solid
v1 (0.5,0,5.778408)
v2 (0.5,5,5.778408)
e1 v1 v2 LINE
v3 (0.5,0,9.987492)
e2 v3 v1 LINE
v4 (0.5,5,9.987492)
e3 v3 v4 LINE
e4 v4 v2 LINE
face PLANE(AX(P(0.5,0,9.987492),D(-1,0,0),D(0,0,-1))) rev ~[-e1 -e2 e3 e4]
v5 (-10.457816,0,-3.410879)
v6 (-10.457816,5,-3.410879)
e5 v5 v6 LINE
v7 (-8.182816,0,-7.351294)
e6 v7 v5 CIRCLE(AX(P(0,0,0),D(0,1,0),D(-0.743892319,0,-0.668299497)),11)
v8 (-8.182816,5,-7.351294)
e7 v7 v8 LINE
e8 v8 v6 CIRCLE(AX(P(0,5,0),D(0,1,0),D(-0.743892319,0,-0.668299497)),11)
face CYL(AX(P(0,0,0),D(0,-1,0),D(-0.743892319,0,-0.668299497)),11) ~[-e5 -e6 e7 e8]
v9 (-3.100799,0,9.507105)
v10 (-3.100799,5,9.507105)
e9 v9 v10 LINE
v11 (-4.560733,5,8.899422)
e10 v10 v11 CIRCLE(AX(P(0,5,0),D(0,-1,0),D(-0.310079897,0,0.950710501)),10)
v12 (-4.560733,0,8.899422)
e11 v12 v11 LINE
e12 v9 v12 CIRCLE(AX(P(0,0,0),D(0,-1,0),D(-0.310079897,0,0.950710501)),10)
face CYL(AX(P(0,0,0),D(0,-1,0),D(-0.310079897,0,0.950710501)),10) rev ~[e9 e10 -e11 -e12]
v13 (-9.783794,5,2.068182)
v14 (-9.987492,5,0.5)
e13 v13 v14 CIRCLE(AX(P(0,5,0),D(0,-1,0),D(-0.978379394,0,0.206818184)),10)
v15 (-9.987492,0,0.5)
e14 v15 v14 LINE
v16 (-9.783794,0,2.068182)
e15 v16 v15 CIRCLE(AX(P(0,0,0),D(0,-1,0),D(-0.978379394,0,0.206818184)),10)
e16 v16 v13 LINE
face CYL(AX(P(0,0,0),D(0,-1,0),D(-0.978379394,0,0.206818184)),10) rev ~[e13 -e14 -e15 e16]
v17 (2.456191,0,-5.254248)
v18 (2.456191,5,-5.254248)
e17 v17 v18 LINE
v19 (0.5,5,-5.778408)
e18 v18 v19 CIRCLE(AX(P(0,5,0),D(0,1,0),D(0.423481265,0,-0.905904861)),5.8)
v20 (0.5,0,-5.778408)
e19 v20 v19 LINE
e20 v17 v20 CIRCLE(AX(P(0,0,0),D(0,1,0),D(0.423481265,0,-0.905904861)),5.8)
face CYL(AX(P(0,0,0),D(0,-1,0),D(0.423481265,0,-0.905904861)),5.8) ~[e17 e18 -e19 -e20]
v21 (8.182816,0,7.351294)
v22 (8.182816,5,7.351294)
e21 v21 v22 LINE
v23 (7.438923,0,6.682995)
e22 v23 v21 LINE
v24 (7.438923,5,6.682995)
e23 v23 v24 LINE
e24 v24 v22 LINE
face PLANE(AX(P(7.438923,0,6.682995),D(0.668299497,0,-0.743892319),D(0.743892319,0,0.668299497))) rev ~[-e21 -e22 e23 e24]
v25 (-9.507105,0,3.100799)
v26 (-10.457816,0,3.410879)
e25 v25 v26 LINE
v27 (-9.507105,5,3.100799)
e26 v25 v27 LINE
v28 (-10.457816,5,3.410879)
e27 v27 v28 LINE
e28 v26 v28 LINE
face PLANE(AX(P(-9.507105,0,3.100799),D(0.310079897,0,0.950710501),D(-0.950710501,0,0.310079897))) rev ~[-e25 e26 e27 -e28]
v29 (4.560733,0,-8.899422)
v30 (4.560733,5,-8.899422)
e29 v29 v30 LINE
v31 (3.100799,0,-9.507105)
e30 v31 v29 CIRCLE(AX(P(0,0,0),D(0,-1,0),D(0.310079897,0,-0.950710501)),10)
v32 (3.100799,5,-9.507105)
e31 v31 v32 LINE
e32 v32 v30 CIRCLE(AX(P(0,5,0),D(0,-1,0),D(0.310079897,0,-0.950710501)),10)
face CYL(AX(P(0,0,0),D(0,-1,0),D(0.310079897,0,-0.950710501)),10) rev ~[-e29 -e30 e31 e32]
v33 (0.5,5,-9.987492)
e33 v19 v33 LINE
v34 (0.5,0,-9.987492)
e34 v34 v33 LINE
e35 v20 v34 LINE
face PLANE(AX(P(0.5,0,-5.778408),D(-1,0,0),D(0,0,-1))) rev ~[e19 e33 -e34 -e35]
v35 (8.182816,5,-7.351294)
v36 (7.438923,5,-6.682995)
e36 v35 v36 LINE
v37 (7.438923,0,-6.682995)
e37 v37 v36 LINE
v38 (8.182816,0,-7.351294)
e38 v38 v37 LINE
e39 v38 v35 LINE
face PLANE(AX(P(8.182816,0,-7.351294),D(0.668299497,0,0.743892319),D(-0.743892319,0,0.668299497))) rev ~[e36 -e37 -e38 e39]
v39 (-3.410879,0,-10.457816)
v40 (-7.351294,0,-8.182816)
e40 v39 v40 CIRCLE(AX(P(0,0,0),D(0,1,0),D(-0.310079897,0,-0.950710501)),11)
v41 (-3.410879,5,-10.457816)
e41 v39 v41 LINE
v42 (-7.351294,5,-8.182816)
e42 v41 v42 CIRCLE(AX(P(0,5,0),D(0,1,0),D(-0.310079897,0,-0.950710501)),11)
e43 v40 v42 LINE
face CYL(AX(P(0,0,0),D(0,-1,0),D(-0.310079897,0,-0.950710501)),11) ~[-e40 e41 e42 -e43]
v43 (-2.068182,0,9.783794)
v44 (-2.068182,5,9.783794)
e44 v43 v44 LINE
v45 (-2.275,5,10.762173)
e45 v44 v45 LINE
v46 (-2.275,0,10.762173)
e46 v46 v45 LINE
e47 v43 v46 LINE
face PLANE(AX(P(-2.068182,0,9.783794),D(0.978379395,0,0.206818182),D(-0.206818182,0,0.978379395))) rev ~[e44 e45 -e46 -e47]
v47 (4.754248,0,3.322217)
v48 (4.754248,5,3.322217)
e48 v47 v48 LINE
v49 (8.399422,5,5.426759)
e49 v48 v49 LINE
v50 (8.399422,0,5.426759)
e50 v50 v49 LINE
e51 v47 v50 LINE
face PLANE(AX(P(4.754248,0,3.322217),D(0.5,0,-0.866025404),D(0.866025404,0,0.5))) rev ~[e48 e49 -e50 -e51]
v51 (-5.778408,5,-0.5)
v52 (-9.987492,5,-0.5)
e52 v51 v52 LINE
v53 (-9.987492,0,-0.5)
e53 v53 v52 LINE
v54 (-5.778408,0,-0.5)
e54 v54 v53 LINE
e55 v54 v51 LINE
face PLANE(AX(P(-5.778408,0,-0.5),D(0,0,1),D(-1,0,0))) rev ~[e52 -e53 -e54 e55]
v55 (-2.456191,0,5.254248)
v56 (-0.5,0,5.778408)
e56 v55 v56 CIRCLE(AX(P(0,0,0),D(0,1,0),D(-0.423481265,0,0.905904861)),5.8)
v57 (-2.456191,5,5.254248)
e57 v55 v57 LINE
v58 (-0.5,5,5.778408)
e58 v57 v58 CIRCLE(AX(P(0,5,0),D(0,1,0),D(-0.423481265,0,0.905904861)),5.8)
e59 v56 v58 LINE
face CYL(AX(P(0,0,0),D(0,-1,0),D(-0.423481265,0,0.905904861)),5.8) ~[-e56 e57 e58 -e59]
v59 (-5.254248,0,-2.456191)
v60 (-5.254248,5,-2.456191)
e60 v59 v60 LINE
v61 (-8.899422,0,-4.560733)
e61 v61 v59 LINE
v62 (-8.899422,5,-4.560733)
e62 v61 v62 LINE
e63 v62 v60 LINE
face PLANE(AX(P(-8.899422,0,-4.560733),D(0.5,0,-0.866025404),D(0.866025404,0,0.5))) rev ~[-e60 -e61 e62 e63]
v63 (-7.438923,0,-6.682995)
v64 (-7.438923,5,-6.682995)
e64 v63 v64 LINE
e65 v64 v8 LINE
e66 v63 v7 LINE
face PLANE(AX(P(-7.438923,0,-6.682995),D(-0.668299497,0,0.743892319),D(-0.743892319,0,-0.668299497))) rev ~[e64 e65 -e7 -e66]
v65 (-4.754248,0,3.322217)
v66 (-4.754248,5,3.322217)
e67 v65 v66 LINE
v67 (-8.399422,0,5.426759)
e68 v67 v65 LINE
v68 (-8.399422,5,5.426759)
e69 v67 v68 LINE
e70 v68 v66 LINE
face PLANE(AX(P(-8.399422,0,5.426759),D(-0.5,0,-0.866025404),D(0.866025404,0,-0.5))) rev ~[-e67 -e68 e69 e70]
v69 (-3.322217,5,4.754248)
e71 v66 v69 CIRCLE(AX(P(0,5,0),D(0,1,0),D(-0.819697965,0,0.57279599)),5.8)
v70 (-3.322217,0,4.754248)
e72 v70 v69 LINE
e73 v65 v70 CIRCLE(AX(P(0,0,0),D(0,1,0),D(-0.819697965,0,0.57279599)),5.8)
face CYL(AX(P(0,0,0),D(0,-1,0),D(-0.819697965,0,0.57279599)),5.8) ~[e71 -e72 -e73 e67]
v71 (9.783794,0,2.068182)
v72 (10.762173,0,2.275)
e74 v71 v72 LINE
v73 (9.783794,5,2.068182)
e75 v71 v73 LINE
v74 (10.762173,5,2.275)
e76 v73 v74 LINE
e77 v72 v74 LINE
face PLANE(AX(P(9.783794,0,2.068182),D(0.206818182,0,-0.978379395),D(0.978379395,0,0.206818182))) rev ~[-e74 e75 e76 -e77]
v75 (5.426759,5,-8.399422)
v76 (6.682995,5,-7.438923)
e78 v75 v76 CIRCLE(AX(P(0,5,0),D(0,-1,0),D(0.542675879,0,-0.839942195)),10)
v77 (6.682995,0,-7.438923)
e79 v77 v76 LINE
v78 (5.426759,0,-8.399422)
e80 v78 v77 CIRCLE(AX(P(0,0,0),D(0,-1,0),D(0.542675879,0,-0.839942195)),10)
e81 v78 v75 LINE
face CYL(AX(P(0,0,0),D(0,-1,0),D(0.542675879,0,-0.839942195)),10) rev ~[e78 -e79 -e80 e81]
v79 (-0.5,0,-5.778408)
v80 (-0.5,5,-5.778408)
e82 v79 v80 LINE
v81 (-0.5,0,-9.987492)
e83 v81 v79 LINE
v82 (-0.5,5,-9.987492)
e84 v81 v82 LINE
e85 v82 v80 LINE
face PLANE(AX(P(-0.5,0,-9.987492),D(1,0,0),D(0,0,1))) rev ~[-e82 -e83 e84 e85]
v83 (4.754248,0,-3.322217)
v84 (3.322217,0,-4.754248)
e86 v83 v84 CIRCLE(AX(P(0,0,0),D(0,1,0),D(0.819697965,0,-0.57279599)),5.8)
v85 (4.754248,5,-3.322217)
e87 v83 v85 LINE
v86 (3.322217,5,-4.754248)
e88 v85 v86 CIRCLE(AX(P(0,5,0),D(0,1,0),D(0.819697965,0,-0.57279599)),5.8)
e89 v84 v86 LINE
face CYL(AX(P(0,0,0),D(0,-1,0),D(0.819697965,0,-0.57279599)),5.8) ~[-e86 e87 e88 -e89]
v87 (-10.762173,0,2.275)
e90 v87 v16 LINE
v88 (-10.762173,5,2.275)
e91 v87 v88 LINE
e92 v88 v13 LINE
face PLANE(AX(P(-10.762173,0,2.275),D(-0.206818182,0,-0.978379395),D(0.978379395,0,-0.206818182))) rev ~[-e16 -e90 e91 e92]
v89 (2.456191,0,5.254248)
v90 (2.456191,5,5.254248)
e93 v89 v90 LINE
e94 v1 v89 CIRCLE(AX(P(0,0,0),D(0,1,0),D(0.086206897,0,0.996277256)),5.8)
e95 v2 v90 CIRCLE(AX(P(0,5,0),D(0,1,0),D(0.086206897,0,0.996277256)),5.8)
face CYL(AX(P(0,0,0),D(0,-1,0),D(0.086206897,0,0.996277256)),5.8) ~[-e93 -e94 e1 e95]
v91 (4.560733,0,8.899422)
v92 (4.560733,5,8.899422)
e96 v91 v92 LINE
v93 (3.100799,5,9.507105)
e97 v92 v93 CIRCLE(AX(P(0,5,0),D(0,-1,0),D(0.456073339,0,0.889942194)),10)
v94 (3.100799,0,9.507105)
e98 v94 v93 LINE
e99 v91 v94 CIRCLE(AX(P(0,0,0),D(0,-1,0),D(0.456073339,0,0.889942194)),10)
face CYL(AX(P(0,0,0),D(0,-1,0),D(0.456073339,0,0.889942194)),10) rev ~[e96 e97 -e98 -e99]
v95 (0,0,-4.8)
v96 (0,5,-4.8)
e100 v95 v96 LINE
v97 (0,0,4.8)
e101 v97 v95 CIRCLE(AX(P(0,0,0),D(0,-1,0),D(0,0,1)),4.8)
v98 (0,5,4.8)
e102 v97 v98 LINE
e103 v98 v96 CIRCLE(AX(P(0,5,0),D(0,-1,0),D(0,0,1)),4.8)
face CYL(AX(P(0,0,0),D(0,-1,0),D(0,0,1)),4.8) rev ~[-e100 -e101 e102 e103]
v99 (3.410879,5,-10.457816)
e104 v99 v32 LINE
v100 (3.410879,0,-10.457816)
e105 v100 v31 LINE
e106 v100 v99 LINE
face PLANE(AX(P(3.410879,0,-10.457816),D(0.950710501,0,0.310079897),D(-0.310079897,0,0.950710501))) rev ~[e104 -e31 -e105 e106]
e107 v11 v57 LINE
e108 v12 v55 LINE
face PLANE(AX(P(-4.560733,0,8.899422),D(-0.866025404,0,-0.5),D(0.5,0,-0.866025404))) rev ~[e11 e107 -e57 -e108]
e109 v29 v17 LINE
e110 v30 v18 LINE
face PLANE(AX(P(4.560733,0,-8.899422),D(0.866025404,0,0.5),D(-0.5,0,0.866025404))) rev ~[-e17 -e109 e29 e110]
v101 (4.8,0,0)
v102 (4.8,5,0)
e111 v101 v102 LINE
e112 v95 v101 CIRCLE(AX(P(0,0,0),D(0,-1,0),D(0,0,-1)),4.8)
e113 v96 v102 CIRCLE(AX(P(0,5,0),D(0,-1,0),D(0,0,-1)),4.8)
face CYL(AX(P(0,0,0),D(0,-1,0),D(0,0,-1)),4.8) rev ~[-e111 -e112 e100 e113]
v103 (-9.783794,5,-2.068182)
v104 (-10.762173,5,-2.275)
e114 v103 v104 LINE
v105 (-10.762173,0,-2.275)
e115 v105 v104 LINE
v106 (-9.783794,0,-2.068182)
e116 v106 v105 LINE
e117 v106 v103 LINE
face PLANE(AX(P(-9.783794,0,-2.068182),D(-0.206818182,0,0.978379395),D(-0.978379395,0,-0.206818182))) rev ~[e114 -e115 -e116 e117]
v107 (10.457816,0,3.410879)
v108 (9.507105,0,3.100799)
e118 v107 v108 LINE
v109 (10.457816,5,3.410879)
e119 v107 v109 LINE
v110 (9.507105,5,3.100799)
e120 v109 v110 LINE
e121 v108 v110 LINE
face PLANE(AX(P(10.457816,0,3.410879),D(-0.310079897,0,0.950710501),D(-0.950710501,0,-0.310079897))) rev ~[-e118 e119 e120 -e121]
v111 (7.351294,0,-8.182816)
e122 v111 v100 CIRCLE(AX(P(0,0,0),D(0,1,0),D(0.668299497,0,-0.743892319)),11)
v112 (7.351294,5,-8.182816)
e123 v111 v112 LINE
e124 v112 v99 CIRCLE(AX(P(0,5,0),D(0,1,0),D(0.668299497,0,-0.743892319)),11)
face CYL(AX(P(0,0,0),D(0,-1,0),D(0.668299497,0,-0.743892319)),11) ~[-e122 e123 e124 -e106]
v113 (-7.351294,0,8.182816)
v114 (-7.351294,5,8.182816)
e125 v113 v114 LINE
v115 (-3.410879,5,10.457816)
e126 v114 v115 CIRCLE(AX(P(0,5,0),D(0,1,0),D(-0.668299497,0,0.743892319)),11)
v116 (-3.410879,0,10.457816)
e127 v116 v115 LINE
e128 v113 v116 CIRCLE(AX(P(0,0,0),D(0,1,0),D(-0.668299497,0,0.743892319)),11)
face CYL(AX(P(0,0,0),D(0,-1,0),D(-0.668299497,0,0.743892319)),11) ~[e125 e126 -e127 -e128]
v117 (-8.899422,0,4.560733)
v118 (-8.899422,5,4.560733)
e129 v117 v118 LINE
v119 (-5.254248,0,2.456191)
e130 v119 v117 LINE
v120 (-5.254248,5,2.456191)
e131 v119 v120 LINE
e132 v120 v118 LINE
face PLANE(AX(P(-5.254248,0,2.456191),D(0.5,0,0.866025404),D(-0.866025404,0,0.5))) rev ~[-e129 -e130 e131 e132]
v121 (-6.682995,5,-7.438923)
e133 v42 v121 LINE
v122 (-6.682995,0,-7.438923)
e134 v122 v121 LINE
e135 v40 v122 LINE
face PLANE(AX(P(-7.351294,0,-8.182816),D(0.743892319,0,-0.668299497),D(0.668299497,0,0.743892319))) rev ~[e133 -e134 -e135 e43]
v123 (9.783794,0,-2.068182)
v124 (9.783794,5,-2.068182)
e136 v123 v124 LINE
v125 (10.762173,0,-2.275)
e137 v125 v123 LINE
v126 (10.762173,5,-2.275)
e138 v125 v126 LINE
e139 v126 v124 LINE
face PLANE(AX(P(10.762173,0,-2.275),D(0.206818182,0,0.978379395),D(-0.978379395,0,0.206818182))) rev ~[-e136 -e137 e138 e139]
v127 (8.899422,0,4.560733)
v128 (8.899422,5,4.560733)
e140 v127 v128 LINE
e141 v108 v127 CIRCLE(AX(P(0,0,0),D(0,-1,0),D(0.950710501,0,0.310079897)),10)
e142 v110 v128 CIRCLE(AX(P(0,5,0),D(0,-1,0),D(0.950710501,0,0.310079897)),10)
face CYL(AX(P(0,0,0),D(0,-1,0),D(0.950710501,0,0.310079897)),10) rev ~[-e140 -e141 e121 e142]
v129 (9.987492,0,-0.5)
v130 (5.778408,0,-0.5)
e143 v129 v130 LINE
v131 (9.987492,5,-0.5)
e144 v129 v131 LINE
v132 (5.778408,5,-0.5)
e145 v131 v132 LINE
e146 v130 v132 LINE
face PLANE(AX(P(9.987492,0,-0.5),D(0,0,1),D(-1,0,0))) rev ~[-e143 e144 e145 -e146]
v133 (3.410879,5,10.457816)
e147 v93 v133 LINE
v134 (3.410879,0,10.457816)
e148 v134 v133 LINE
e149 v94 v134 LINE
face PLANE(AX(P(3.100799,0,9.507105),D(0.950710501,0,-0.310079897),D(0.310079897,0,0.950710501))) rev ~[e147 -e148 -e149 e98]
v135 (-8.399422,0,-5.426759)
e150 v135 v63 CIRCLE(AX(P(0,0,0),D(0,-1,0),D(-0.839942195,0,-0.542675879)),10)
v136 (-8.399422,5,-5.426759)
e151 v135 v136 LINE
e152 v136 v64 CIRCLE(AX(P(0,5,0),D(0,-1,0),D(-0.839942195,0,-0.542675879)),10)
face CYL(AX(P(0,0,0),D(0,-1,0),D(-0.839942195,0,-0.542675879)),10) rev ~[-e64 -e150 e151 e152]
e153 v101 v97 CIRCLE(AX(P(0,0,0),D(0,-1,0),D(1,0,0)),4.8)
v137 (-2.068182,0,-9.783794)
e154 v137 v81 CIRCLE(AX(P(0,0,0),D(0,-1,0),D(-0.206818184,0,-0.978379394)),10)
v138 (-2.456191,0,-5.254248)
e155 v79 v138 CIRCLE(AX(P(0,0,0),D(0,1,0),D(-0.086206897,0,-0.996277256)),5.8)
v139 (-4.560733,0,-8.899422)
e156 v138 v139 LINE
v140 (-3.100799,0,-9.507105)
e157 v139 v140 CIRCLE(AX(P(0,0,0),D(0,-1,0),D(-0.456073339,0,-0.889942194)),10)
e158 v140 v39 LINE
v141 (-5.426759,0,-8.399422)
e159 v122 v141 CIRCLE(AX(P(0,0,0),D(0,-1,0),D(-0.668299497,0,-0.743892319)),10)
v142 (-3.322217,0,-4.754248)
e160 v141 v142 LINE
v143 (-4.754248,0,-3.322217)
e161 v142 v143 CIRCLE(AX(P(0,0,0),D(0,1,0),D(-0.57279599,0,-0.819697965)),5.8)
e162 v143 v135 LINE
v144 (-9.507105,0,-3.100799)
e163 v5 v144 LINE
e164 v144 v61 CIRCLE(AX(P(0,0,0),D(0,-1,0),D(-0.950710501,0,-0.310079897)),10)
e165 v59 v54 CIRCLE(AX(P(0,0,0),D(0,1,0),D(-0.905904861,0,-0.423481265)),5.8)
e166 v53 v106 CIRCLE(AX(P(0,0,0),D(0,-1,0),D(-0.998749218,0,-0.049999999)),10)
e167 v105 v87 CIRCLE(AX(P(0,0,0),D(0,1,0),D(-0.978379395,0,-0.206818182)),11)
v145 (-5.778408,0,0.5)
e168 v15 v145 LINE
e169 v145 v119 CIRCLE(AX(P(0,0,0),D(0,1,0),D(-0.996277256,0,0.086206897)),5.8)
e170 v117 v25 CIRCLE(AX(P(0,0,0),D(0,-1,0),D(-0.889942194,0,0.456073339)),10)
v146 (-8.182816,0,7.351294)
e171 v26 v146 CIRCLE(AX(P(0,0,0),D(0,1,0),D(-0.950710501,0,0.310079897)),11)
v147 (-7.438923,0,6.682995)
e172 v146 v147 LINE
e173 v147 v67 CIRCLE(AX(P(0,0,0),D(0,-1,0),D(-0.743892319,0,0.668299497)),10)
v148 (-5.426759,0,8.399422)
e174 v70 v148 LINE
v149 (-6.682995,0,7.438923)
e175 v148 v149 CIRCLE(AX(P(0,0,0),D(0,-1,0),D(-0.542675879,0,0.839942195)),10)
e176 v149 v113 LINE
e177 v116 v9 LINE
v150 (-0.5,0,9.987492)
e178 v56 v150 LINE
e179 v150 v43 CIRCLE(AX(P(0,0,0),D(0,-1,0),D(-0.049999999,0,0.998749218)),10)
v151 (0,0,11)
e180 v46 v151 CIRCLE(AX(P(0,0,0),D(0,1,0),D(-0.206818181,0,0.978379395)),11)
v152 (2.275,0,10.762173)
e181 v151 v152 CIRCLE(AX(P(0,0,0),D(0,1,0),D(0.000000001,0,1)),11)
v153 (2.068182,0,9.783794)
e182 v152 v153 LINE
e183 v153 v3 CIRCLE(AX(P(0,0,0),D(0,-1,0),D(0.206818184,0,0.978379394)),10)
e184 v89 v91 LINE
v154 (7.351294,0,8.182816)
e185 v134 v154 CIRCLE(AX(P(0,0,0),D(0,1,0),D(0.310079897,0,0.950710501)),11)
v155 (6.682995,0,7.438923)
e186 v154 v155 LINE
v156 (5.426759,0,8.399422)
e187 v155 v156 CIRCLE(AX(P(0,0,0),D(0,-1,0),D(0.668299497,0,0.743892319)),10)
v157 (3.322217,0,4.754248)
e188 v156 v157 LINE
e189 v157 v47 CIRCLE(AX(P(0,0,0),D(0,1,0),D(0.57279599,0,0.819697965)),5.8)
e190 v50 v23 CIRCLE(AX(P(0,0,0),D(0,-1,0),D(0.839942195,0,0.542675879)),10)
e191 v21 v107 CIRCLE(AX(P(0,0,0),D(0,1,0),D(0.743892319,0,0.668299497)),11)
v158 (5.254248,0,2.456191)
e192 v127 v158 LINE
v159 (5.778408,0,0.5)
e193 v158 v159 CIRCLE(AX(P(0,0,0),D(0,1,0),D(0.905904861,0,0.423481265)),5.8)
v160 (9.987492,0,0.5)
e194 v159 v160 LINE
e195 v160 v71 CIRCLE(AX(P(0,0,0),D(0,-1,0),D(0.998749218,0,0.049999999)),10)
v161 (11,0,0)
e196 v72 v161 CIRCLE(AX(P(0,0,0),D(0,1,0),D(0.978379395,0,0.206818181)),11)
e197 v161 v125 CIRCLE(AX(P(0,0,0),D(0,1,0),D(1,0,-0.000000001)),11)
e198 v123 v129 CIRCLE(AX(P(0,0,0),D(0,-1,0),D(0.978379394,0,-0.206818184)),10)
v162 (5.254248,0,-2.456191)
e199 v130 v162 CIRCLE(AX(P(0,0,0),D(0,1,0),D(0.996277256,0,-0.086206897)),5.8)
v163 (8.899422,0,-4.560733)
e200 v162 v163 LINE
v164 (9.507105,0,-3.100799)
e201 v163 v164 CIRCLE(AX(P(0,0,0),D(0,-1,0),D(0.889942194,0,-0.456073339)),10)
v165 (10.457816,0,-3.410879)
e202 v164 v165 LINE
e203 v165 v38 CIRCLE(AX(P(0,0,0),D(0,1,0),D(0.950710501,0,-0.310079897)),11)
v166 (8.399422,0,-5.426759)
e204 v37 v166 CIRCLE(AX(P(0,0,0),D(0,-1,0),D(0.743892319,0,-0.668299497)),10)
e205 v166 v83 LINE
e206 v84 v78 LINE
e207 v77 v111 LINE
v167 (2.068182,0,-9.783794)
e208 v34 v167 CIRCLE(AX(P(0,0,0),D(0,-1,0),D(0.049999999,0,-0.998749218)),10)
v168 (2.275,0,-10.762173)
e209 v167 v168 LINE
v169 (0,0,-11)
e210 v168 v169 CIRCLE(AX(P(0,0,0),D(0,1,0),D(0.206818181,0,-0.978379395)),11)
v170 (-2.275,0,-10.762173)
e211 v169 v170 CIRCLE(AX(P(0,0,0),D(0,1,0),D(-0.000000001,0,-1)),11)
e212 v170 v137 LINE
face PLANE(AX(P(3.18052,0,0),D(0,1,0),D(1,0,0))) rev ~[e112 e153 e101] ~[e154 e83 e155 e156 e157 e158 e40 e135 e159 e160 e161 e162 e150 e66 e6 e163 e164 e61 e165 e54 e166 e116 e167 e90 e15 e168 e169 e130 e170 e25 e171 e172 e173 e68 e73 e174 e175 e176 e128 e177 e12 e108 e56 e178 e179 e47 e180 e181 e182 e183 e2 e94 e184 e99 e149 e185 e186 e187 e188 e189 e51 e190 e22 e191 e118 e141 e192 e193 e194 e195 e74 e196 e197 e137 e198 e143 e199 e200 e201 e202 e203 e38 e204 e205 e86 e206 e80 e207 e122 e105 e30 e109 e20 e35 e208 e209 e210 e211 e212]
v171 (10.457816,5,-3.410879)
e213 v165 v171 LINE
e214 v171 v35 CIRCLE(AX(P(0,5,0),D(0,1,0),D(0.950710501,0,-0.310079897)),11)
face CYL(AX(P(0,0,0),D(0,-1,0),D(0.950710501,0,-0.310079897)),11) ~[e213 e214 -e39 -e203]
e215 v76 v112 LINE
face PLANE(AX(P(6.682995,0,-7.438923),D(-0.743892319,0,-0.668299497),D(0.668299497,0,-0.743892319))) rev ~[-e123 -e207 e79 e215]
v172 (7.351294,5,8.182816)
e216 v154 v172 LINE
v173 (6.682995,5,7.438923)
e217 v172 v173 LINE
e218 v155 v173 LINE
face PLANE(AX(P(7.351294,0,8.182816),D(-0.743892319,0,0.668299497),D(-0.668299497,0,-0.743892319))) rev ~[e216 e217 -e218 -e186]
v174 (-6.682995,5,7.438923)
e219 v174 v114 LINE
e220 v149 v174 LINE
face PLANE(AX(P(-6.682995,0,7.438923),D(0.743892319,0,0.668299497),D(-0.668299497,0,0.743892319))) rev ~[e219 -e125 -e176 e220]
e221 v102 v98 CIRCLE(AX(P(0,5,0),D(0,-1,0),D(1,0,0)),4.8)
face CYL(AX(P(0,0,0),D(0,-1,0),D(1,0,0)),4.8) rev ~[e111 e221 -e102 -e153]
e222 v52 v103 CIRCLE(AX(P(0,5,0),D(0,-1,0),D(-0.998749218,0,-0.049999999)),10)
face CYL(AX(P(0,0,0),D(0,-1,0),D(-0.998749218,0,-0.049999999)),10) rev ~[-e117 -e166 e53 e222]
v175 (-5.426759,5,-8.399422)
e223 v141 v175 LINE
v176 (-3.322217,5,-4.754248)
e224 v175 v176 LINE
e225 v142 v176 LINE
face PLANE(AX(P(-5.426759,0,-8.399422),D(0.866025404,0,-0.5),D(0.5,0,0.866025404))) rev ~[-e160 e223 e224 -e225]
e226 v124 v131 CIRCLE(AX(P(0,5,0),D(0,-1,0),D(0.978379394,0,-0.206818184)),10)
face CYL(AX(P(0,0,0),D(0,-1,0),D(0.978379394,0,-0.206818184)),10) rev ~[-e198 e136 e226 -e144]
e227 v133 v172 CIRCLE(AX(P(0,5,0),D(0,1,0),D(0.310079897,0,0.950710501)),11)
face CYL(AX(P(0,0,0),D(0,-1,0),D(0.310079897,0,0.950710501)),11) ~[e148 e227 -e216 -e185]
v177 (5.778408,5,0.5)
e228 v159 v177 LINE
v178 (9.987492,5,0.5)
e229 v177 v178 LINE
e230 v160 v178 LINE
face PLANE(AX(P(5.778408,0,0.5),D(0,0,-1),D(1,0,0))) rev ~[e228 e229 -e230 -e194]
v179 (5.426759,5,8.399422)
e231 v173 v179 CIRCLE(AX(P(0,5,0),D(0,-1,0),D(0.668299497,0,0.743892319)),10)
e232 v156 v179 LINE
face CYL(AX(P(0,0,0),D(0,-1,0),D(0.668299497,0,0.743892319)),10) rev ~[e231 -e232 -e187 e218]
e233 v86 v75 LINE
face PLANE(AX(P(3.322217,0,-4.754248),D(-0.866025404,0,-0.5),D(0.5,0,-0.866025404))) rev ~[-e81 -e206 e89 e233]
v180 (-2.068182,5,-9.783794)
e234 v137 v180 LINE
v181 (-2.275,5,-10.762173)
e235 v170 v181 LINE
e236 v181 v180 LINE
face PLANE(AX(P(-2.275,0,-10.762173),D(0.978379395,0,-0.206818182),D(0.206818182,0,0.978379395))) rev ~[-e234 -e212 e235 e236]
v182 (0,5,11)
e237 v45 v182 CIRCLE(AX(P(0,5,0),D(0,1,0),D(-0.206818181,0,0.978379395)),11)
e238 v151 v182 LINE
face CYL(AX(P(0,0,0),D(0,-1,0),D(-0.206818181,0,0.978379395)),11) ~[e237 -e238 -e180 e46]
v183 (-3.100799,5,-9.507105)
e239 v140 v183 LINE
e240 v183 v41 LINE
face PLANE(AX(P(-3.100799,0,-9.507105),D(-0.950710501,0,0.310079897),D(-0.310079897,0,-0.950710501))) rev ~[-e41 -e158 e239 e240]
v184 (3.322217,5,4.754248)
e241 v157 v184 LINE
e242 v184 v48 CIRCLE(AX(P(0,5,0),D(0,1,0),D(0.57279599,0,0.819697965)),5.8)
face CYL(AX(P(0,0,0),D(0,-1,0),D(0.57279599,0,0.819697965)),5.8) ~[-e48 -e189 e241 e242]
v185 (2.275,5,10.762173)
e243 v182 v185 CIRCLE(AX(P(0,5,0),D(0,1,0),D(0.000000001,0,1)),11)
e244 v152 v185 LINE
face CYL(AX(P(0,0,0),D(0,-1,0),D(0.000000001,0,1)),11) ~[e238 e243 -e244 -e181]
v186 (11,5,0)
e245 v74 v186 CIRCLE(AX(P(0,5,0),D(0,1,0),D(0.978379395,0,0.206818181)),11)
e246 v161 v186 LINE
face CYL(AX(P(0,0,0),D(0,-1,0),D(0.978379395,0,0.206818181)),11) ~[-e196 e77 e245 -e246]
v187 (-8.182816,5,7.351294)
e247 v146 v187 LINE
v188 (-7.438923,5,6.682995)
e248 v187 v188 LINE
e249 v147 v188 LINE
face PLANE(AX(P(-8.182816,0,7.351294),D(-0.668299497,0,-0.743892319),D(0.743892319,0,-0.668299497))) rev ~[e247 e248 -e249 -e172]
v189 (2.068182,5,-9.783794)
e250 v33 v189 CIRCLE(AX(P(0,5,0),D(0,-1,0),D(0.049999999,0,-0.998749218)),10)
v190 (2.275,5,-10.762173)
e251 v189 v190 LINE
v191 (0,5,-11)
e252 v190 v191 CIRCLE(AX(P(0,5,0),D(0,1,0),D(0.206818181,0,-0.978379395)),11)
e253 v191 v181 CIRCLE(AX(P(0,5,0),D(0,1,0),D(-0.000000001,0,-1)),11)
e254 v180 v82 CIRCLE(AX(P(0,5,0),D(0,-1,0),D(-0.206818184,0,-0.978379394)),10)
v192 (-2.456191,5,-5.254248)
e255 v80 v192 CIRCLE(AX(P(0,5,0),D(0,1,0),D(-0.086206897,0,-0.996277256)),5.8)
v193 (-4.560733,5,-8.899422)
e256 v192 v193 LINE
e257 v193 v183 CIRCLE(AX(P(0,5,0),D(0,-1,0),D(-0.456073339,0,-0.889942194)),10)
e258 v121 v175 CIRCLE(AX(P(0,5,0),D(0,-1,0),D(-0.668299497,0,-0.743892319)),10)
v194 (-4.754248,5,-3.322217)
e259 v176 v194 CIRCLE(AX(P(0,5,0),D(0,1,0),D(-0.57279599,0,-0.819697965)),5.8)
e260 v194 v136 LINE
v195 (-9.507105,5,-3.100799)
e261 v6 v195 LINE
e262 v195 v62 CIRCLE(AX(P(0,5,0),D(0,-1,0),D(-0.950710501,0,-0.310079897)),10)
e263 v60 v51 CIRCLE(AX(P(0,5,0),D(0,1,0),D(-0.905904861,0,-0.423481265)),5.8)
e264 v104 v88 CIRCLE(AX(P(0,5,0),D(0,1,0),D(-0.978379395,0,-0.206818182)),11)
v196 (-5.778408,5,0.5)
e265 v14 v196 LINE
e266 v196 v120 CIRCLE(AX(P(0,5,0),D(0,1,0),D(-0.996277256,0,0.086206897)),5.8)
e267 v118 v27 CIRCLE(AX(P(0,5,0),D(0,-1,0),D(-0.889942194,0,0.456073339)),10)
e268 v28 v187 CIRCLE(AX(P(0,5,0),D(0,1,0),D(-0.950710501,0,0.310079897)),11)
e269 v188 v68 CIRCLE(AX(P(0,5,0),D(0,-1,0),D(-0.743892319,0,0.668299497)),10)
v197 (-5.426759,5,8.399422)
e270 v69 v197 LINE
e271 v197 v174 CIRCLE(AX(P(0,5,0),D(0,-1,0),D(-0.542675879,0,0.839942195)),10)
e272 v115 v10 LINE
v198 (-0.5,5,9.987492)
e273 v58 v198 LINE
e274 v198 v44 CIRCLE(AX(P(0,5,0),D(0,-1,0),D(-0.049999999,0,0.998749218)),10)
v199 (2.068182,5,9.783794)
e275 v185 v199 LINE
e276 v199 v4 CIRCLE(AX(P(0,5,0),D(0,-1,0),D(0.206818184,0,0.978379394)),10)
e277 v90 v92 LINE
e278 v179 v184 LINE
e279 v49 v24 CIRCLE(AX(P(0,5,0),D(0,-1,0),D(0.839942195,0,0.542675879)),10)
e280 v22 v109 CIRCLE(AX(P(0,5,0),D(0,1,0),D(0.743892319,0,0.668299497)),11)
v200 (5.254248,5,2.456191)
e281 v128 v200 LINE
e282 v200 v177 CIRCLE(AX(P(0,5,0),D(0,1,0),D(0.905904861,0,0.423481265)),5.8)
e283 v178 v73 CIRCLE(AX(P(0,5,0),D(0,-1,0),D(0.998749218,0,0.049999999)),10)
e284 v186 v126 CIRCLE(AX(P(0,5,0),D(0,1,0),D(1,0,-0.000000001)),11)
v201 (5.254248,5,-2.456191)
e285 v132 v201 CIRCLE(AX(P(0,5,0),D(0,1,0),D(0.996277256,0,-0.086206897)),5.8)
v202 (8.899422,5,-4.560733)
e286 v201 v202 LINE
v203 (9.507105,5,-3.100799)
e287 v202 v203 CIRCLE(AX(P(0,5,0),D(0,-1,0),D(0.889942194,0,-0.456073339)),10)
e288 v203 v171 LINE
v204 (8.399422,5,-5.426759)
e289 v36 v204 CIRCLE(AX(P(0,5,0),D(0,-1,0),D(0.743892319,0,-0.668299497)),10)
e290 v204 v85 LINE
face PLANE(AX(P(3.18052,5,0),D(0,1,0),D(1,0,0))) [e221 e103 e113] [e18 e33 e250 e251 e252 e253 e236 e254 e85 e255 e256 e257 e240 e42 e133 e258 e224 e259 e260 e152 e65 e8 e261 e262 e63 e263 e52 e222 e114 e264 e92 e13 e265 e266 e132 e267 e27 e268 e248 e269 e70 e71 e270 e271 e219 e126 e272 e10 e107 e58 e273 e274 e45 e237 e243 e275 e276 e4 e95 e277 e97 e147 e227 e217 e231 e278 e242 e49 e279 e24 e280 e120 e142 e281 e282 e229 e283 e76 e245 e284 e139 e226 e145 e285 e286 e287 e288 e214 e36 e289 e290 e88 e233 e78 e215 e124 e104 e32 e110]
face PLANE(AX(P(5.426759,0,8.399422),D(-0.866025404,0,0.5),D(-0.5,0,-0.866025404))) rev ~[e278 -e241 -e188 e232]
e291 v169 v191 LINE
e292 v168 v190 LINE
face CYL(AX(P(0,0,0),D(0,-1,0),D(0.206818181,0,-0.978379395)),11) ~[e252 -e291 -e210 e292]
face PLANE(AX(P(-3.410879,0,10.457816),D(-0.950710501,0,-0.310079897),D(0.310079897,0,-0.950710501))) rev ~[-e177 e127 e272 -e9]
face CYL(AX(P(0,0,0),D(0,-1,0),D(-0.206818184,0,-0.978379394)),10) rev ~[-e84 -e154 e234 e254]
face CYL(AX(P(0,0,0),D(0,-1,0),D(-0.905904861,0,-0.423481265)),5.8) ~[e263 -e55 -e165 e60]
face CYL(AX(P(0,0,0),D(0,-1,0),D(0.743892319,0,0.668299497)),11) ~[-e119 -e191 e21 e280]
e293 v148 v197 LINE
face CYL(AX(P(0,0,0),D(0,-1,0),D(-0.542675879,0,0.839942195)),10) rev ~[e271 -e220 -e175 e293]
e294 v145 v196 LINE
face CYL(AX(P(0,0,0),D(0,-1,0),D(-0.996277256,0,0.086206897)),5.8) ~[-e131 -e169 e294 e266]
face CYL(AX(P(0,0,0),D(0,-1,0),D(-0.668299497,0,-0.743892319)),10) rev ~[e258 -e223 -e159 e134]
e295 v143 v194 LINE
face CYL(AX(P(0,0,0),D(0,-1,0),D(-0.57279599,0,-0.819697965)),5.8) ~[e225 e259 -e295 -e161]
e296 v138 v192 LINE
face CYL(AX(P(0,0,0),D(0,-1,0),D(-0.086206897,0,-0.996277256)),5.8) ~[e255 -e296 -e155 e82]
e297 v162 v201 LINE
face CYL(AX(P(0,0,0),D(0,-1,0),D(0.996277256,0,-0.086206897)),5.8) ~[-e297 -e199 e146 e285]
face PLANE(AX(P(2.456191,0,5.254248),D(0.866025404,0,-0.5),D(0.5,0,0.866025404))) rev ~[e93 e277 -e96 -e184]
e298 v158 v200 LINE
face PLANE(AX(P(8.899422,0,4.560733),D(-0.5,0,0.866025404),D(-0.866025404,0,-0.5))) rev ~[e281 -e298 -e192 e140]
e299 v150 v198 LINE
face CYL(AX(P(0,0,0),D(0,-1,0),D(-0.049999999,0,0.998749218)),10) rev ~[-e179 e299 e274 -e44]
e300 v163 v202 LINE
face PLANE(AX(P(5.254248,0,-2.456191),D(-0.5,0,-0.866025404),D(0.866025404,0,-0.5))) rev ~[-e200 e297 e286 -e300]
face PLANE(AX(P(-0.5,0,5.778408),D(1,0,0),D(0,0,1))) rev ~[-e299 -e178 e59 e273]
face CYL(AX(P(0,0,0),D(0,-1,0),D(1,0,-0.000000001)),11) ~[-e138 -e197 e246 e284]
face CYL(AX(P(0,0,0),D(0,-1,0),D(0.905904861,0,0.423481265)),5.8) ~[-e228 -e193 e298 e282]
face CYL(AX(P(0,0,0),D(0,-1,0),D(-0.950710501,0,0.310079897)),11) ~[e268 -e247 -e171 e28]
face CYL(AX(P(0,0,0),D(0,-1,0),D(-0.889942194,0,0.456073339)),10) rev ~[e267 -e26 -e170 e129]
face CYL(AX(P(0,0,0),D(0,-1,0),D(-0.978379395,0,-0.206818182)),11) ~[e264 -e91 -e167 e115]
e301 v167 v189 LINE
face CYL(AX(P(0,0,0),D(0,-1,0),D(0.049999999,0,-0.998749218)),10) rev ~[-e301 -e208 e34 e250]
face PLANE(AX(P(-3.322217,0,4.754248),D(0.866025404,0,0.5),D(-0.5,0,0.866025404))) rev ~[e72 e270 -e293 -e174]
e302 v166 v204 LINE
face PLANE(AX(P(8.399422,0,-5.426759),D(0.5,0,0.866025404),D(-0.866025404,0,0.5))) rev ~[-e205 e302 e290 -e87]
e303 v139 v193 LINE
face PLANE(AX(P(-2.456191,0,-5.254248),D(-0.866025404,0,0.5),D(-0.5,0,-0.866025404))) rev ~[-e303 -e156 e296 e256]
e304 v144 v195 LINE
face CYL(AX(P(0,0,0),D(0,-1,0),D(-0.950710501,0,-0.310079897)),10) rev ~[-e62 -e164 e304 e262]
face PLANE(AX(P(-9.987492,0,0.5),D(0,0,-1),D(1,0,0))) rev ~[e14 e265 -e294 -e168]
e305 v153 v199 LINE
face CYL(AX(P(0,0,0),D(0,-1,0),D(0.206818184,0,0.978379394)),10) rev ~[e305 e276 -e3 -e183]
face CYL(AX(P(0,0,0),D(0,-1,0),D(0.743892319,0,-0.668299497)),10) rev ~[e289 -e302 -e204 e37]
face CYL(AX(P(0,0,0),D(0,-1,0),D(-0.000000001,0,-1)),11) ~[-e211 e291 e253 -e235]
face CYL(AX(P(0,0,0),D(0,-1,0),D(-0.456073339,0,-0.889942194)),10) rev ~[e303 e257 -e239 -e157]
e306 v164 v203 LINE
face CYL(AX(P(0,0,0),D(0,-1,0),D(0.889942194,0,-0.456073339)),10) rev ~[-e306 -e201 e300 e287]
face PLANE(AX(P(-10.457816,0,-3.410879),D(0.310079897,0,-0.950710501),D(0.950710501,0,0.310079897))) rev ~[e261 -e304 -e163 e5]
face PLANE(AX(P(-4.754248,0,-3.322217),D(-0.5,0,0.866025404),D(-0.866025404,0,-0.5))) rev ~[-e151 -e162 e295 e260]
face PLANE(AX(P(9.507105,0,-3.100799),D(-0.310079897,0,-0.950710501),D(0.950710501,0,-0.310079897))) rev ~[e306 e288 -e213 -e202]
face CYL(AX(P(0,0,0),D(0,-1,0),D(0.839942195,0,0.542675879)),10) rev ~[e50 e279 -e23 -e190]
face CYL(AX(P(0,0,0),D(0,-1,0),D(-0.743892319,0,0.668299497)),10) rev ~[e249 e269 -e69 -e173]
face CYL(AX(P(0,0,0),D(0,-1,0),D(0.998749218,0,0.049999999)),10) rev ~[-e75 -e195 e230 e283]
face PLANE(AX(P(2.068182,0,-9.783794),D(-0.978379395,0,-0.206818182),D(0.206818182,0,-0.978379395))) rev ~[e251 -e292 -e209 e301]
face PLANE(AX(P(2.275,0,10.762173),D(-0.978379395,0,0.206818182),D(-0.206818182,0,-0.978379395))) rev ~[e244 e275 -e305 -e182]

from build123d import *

# Parameters (mm, degrees)
BOSS_EXTRUDE1_DEPTH = 5


with BuildPart() as part:
    # Sketch1 → Boss-Extrude1 (new body)
    with BuildSketch(Plane(origin=(0, 0, 0), x_dir=(1, 0, 0), z_dir=(0, 1, 0))):
        with BuildLine():
            ThreePointArc((0.5, 5.778408085), (0.250232997, 5.794599507), (0, 5.8))
            Line((0, 5.8), (0, 4.8))
            ThreePointArc((0, 4.8), (3.39411255, 3.39411255), (4.8, 0))
            ThreePointArc((4.8, 0), (3.39411255, -3.39411255), (0, -4.8))
            Line((0, -4.8), (0, -5.8))
            ThreePointArc((0, -5.8), (0.250232997, -5.794599507), (0.5, -5.778408085))
            ThreePointArc((0.5, -5.778408085), (1.501150462, -5.602369792), (2.456191341, -5.254248195))
            ThreePointArc((2.456191341, -5.254248195), (2.9, -5.022947342), (3.322216745, -4.754248195))
            ThreePointArc((3.322216745, -4.754248195), (4.101219331, -4.101219331), (4.754248195, -3.322216745))
            ThreePointArc((4.754248195, -3.322216745), (5.022947342, -2.9), (5.254248195, -2.456191341))
            ThreePointArc((5.254248195, -2.456191341), (5.602369792, -1.501150462), (5.778408085, -0.5))
            ThreePointArc((5.778408085, -0.5), (5.794599507, -0.250232997), (5.8, 0))
            ThreePointArc((5.8, 0), (5.794599507, 0.250232997), (5.778408085, 0.5))
            ThreePointArc((5.778408085, 0.5), (5.602369792, 1.501150462), (5.254248195, 2.456191341))
            ThreePointArc((5.254248195, 2.456191341), (5.022947342, 2.9), (4.754248195, 3.322216745))
            ThreePointArc((4.754248195, 3.322216745), (4.101219331, 4.101219331), (3.322216745, 4.754248195))
            ThreePointArc((3.322216745, 4.754248195), (2.9, 5.022947342), (2.456191341, 5.254248195))
            ThreePointArc((2.456191341, 5.254248195), (1.501150462, 5.602369792), (0.5, 5.778408085))
        make_face()
        with BuildLine():
            Line((0, 4.8), (0, 5.8))
            ThreePointArc((0, 5.8), (-0.250232997, 5.794599507), (-0.5, 5.778408085))
            ThreePointArc((-0.5, 5.778408085), (-1.501150462, 5.602369792), (-2.456191341, 5.254248195))
            ThreePointArc((-2.456191341, 5.254248195), (-2.9, 5.022947342), (-3.322216745, 4.754248195))
            ThreePointArc((-3.322216745, 4.754248195), (-4.101219331, 4.101219331), (-4.754248195, 3.322216745))
            ThreePointArc((-4.754248195, 3.322216745), (-5.022947342, 2.9), (-5.254248195, 2.456191341))
            ThreePointArc((-5.254248195, 2.456191341), (-5.602369792, 1.501150462), (-5.778408085, 0.5))
            ThreePointArc((-5.778408085, 0.5), (-5.8, 0), (-5.778408085, -0.5))
            ThreePointArc((-5.778408085, -0.5), (-5.602369792, -1.501150462), (-5.254248195, -2.456191341))
            ThreePointArc((-5.254248195, -2.456191341), (-5.022947342, -2.9), (-4.754248195, -3.322216745))
            ThreePointArc((-4.754248195, -3.322216745), (-4.101219331, -4.101219331), (-3.322216745, -4.754248195))
            ThreePointArc((-3.322216745, -4.754248195), (-2.9, -5.022947342), (-2.456191341, -5.254248195))
            ThreePointArc((-2.456191341, -5.254248195), (-1.501150462, -5.602369792), (-0.5, -5.778408085))
            ThreePointArc((-0.5, -5.778408085), (-0.250232997, -5.794599507), (0, -5.8))
            Line((0, -5.8), (0, -4.8))
            ThreePointArc((0, -4.8), (-4.8, 0), (0, 4.8))
        make_face()
        with BuildLine():
            Line((0, 5.8), (0, 10))
            ThreePointArc((0, 10), (-0.250078211, 9.996872555), (-0.5, 9.987492178))
            Line((-0.5, 9.987492178), (-0.5, 5.778408085))
            ThreePointArc((-0.5, 5.778408085), (-0.250232997, 5.794599507), (0, 5.8))
        make_face()
        with BuildLine():
            ThreePointArc((0.5, 9.987492178), (0.250078211, 9.996872555), (0, 10))
            Line((0, 10), (0, 5.8))
            ThreePointArc((0, 5.8), (0.250232997, 5.794599507), (0.5, 5.778408085))
            Line((0.5, 5.778408085), (0.5, 9.987492178))
        make_face()
        with BuildLine():
            ThreePointArc((2.275, 10.76217334), (1.143698662, 10.940381774), (0, 11))
            Line((0, 11), (0, 10))
            ThreePointArc((0, 10), (0.250078211, 9.996872555), (0.5, 9.987492178))
            ThreePointArc((0.5, 9.987492178), (1.288123715, 9.916689836), (2.068181818, 9.783793945))
            Line((2.068181818, 9.783793945), (2.275, 10.76217334))
        make_face()
        with BuildLine():
            Line((0, 10), (0, 11))
            ThreePointArc((0, 11), (-1.143698662, 10.940381774), (-2.275, 10.76217334))
            Line((-2.275, 10.76217334), (-2.068181818, 9.783793945))
            ThreePointArc((-2.068181818, 9.783793945), (-1.288123715, 9.916689836), (-0.5, 9.987492178))
            ThreePointArc((-0.5, 9.987492178), (-0.250078211, 9.996872555), (0, 10))
        make_face()
        with BuildLine():
            Line((4.560733387, 8.899421946), (2.456191341, 5.254248195))
            ThreePointArc((2.456191341, 5.254248195), (2.9, 5.022947342), (3.322216745, 4.754248195))
            Line((3.322216745, 4.754248195), (5.426758791, 8.399421946))
            ThreePointArc((5.426758791, 8.399421946), (5, 8.660254038), (4.560733387, 8.899421946))
        make_face()
        with BuildLine():
            ThreePointArc((7.351294464, 8.182815512), (5.5, 9.526279442), (3.410878876, 10.457815512))
            Line((3.410878876, 10.457815512), (3.100798979, 9.507105011))
            ThreePointArc((3.100798979, 9.507105011), (3.842797057, 9.232167177), (4.560733387, 8.899421946))
            ThreePointArc((4.560733387, 8.899421946), (5, 8.660254038), (5.426758791, 8.399421946))
            ThreePointArc((5.426758791, 8.399421946), (6.073892778, 7.944043462), (6.682994967, 7.438923193))
            Line((6.682994967, 7.438923193), (7.351294464, 8.182815512))
        make_face()
        with BuildLine():
            Line((8.399421946, 5.426758791), (4.754248195, 3.322216745))
            ThreePointArc((4.754248195, 3.322216745), (5.022947342, 2.9), (5.254248195, 2.456191341))
            Line((5.254248195, 2.456191341), (8.899421946, 4.560733387))
            ThreePointArc((8.899421946, 4.560733387), (8.660254038, 5), (8.399421946, 5.426758791))
        make_face()
        with BuildLine():
            ThreePointArc((10.457815512, 3.410878876), (9.526279442, 5.5), (8.182815512, 7.351294464))
            Line((8.182815512, 7.351294464), (7.438923193, 6.682994967))
            ThreePointArc((7.438923193, 6.682994967), (7.944043462, 6.073892778), (8.399421946, 5.426758791))
            ThreePointArc((8.399421946, 5.426758791), (8.660254038, 5), (8.899421946, 4.560733387))
            ThreePointArc((8.899421946, 4.560733387), (9.232167177, 3.842797057), (9.507105011, 3.100798979))
            Line((9.507105011, 3.100798979), (10.457815512, 3.410878876))
        make_face()
        with BuildLine():
            Line((9.987492178, 0.5), (5.778408085, 0.5))
            ThreePointArc((5.778408085, 0.5), (5.794599507, 0.250232997), (5.8, 0))
            ThreePointArc((5.8, 0), (5.794599507, -0.250232997), (5.778408085, -0.5))
            Line((5.778408085, -0.5), (9.987492178, -0.5))
            ThreePointArc((9.987492178, -0.5), (9.996872555, -0.250078211), (10, 0))
            ThreePointArc((10, 0), (9.996872555, 0.250078211), (9.987492178, 0.5))
        make_face()
        with BuildLine():
            ThreePointArc((11, 0), (10.940381774, 1.143698662), (10.76217334, 2.275))
            Line((10.76217334, 2.275), (9.783793945, 2.068181818))
            ThreePointArc((9.783793945, 2.068181818), (9.916689836, 1.288123715), (9.987492178, 0.5))
            ThreePointArc((9.987492178, 0.5), (9.996872555, 0.250078211), (10, 0))
            ThreePointArc((10, 0), (9.996872555, -0.250078211), (9.987492178, -0.5))
            ThreePointArc((9.987492178, -0.5), (9.916689836, -1.288123715), (9.783793945, -2.068181818))
            Line((9.783793945, -2.068181818), (10.76217334, -2.275))
            ThreePointArc((10.76217334, -2.275), (10.940381774, -1.143698662), (11, 0))
        make_face()
        with BuildLine():
            ThreePointArc((5.254248195, -2.456191341), (5.022947342, -2.9), (4.754248195, -3.322216745))
            Line((4.754248195, -3.322216745), (8.399421946, -5.426758791))
            ThreePointArc((8.399421946, -5.426758791), (8.660254038, -5), (8.899421946, -4.560733387))
            Line((8.899421946, -4.560733387), (5.254248195, -2.456191341))
        make_face()
        with BuildLine():
            ThreePointArc((8.182815512, -7.351294464), (9.526279442, -5.5), (10.457815512, -3.410878876))
            Line((10.457815512, -3.410878876), (9.507105011, -3.100798979))
            ThreePointArc((9.507105011, -3.100798979), (9.232167177, -3.842797057), (8.899421946, -4.560733387))
            ThreePointArc((8.899421946, -4.560733387), (8.660254038, -5), (8.399421946, -5.426758791))
            ThreePointArc((8.399421946, -5.426758791), (7.944043462, -6.073892778), (7.438923193, -6.682994967))
            Line((7.438923193, -6.682994967), (8.182815512, -7.351294464))
        make_face()
        with BuildLine():
            ThreePointArc((3.322216745, -4.754248195), (2.9, -5.022947342), (2.456191341, -5.254248195))
            Line((2.456191341, -5.254248195), (4.560733387, -8.899421946))
            ThreePointArc((4.560733387, -8.899421946), (5, -8.660254038), (5.426758791, -8.399421946))
            Line((5.426758791, -8.399421946), (3.322216745, -4.754248195))
        make_face()
        with BuildLine():
            ThreePointArc((5.426758791, -8.399421946), (5, -8.660254038), (4.560733387, -8.899421946))
            ThreePointArc((4.560733387, -8.899421946), (3.842797057, -9.232167177), (3.100798979, -9.507105011))
            Line((3.100798979, -9.507105011), (3.410878876, -10.457815512))
            ThreePointArc((3.410878876, -10.457815512), (5.5, -9.526279442), (7.351294464, -8.182815512))
            Line((7.351294464, -8.182815512), (6.682994967, -7.438923193))
            ThreePointArc((6.682994967, -7.438923193), (6.073892778, -7.944043462), (5.426758791, -8.399421946))
        make_face()
        with BuildLine():
            Line((0, -10), (0, -5.8))
            ThreePointArc((0, -5.8), (-0.250232997, -5.794599507), (-0.5, -5.778408085))
            Line((-0.5, -5.778408085), (-0.5, -9.987492178))
            ThreePointArc((-0.5, -9.987492178), (-0.250078211, -9.996872555), (0, -10))
        make_face()
        with BuildLine():
            ThreePointArc((0.5, -5.778408085), (0.250232997, -5.794599507), (0, -5.8))
            Line((0, -5.8), (0, -10))
            ThreePointArc((0, -10), (0.250078211, -9.996872555), (0.5, -9.987492178))
            Line((0.5, -9.987492178), (0.5, -5.778408085))
        make_face()
        with BuildLine():
            ThreePointArc((0.5, -9.987492178), (0.250078211, -9.996872555), (0, -10))
            Line((0, -10), (0, -11))
            ThreePointArc((0, -11), (1.143698662, -10.940381774), (2.275, -10.76217334))
            Line((2.275, -10.76217334), (2.068181818, -9.783793945))
            ThreePointArc((2.068181818, -9.783793945), (1.288123715, -9.916689836), (0.5, -9.987492178))
        make_face()
        with BuildLine():
            Line((0, -11), (0, -10))
            ThreePointArc((0, -10), (-0.250078211, -9.996872555), (-0.5, -9.987492178))
            ThreePointArc((-0.5, -9.987492178), (-1.288123715, -9.916689836), (-2.068181818, -9.783793945))
            Line((-2.068181818, -9.783793945), (-2.275, -10.76217334))
            ThreePointArc((-2.275, -10.76217334), (-1.143698662, -10.940381774), (0, -11))
        make_face()
        with BuildLine():
            Line((-4.560733387, -8.899421946), (-2.456191341, -5.254248195))
            ThreePointArc((-2.456191341, -5.254248195), (-2.9, -5.022947342), (-3.322216745, -4.754248195))
            Line((-3.322216745, -4.754248195), (-5.426758791, -8.399421946))
            ThreePointArc((-5.426758791, -8.399421946), (-5, -8.660254038), (-4.560733387, -8.899421946))
        make_face()
        with BuildLine():
            ThreePointArc((-3.100798979, -9.507105011), (-3.842797057, -9.232167177), (-4.560733387, -8.899421946))
            ThreePointArc((-4.560733387, -8.899421946), (-5, -8.660254038), (-5.426758791, -8.399421946))
            ThreePointArc((-5.426758791, -8.399421946), (-6.073892778, -7.944043462), (-6.682994967, -7.438923193))
            Line((-6.682994967, -7.438923193), (-7.351294464, -8.182815512))
            ThreePointArc((-7.351294464, -8.182815512), (-5.5, -9.526279442), (-3.410878876, -10.457815512))
            Line((-3.410878876, -10.457815512), (-3.100798979, -9.507105011))
        make_face()
        with BuildLine():
            Line((-8.399421946, -5.426758791), (-4.754248195, -3.322216745))
            ThreePointArc((-4.754248195, -3.322216745), (-5.022947342, -2.9), (-5.254248195, -2.456191341))
            Line((-5.254248195, -2.456191341), (-8.899421946, -4.560733387))
            ThreePointArc((-8.899421946, -4.560733387), (-8.660254038, -5), (-8.399421946, -5.426758791))
        make_face()
        with BuildLine():
            Line((-9.507105011, -3.100798979), (-10.457815512, -3.410878876))
            ThreePointArc((-10.457815512, -3.410878876), (-9.526279442, -5.5), (-8.182815512, -7.351294464))
            Line((-8.182815512, -7.351294464), (-7.438923193, -6.682994967))
            ThreePointArc((-7.438923193, -6.682994967), (-7.944043462, -6.073892778), (-8.399421946, -5.426758791))
            ThreePointArc((-8.399421946, -5.426758791), (-8.660254038, -5), (-8.899421946, -4.560733387))
            ThreePointArc((-8.899421946, -4.560733387), (-9.232167177, -3.842797057), (-9.507105011, -3.100798979))
        make_face()
        with BuildLine():
            ThreePointArc((-5.778408085, -0.5), (-5.8, 0), (-5.778408085, 0.5))
            Line((-5.778408085, 0.5), (-9.987492178, 0.5))
            ThreePointArc((-9.987492178, 0.5), (-10, 0), (-9.987492178, -0.5))
            Line((-9.987492178, -0.5), (-5.778408085, -0.5))
        make_face()
        with BuildLine():
            Line((-9.783793945, 2.068181818), (-10.76217334, 2.275))
            ThreePointArc((-10.76217334, 2.275), (-11, 0), (-10.76217334, -2.275))
            Line((-10.76217334, -2.275), (-9.783793945, -2.068181818))
            ThreePointArc((-9.783793945, -2.068181818), (-9.916689836, -1.288123715), (-9.987492178, -0.5))
            ThreePointArc((-9.987492178, -0.5), (-10, 0), (-9.987492178, 0.5))
            ThreePointArc((-9.987492178, 0.5), (-9.916689836, 1.288123715), (-9.783793945, 2.068181818))
        make_face()
        with BuildLine():
            ThreePointArc((-5.254248195, 2.456191341), (-5.022947342, 2.9), (-4.754248195, 3.322216745))
            Line((-4.754248195, 3.322216745), (-8.399421946, 5.426758791))
            ThreePointArc((-8.399421946, 5.426758791), (-8.660254038, 5), (-8.899421946, 4.560733387))
            Line((-8.899421946, 4.560733387), (-5.254248195, 2.456191341))
        make_face()
        with BuildLine():
            Line((-7.438923193, 6.682994967), (-8.182815512, 7.351294464))
            ThreePointArc((-8.182815512, 7.351294464), (-9.526279442, 5.5), (-10.457815512, 3.410878876))
            Line((-10.457815512, 3.410878876), (-9.507105011, 3.100798979))
            ThreePointArc((-9.507105011, 3.100798979), (-9.232167177, 3.842797057), (-8.899421946, 4.560733387))
            ThreePointArc((-8.899421946, 4.560733387), (-8.660254038, 5), (-8.399421946, 5.426758791))
            ThreePointArc((-8.399421946, 5.426758791), (-7.944043462, 6.073892778), (-7.438923193, 6.682994967))
        make_face()
        with BuildLine():
            ThreePointArc((-3.322216745, 4.754248195), (-2.9, 5.022947342), (-2.456191341, 5.254248195))
            Line((-2.456191341, 5.254248195), (-4.560733387, 8.899421946))
            ThreePointArc((-4.560733387, 8.899421946), (-5, 8.660254038), (-5.426758791, 8.399421946))
            Line((-5.426758791, 8.399421946), (-3.322216745, 4.754248195))
        make_face()
        with BuildLine():
            Line((-3.100798979, 9.507105011), (-3.410878876, 10.457815512))
            ThreePointArc((-3.410878876, 10.457815512), (-5.5, 9.526279442), (-7.351294464, 8.182815512))
            Line((-7.351294464, 8.182815512), (-6.682994967, 7.438923193))
            ThreePointArc((-6.682994967, 7.438923193), (-6.073892778, 7.944043462), (-5.426758791, 8.399421946))
            ThreePointArc((-5.426758791, 8.399421946), (-5, 8.660254038), (-4.560733387, 8.899421946))
            ThreePointArc((-4.560733387, 8.899421946), (-3.842797057, 9.232167177), (-3.100798979, 9.507105011))
        make_face()
    extrude(amount=BOSS_EXTRUDE1_DEPTH)


solid = part.part
